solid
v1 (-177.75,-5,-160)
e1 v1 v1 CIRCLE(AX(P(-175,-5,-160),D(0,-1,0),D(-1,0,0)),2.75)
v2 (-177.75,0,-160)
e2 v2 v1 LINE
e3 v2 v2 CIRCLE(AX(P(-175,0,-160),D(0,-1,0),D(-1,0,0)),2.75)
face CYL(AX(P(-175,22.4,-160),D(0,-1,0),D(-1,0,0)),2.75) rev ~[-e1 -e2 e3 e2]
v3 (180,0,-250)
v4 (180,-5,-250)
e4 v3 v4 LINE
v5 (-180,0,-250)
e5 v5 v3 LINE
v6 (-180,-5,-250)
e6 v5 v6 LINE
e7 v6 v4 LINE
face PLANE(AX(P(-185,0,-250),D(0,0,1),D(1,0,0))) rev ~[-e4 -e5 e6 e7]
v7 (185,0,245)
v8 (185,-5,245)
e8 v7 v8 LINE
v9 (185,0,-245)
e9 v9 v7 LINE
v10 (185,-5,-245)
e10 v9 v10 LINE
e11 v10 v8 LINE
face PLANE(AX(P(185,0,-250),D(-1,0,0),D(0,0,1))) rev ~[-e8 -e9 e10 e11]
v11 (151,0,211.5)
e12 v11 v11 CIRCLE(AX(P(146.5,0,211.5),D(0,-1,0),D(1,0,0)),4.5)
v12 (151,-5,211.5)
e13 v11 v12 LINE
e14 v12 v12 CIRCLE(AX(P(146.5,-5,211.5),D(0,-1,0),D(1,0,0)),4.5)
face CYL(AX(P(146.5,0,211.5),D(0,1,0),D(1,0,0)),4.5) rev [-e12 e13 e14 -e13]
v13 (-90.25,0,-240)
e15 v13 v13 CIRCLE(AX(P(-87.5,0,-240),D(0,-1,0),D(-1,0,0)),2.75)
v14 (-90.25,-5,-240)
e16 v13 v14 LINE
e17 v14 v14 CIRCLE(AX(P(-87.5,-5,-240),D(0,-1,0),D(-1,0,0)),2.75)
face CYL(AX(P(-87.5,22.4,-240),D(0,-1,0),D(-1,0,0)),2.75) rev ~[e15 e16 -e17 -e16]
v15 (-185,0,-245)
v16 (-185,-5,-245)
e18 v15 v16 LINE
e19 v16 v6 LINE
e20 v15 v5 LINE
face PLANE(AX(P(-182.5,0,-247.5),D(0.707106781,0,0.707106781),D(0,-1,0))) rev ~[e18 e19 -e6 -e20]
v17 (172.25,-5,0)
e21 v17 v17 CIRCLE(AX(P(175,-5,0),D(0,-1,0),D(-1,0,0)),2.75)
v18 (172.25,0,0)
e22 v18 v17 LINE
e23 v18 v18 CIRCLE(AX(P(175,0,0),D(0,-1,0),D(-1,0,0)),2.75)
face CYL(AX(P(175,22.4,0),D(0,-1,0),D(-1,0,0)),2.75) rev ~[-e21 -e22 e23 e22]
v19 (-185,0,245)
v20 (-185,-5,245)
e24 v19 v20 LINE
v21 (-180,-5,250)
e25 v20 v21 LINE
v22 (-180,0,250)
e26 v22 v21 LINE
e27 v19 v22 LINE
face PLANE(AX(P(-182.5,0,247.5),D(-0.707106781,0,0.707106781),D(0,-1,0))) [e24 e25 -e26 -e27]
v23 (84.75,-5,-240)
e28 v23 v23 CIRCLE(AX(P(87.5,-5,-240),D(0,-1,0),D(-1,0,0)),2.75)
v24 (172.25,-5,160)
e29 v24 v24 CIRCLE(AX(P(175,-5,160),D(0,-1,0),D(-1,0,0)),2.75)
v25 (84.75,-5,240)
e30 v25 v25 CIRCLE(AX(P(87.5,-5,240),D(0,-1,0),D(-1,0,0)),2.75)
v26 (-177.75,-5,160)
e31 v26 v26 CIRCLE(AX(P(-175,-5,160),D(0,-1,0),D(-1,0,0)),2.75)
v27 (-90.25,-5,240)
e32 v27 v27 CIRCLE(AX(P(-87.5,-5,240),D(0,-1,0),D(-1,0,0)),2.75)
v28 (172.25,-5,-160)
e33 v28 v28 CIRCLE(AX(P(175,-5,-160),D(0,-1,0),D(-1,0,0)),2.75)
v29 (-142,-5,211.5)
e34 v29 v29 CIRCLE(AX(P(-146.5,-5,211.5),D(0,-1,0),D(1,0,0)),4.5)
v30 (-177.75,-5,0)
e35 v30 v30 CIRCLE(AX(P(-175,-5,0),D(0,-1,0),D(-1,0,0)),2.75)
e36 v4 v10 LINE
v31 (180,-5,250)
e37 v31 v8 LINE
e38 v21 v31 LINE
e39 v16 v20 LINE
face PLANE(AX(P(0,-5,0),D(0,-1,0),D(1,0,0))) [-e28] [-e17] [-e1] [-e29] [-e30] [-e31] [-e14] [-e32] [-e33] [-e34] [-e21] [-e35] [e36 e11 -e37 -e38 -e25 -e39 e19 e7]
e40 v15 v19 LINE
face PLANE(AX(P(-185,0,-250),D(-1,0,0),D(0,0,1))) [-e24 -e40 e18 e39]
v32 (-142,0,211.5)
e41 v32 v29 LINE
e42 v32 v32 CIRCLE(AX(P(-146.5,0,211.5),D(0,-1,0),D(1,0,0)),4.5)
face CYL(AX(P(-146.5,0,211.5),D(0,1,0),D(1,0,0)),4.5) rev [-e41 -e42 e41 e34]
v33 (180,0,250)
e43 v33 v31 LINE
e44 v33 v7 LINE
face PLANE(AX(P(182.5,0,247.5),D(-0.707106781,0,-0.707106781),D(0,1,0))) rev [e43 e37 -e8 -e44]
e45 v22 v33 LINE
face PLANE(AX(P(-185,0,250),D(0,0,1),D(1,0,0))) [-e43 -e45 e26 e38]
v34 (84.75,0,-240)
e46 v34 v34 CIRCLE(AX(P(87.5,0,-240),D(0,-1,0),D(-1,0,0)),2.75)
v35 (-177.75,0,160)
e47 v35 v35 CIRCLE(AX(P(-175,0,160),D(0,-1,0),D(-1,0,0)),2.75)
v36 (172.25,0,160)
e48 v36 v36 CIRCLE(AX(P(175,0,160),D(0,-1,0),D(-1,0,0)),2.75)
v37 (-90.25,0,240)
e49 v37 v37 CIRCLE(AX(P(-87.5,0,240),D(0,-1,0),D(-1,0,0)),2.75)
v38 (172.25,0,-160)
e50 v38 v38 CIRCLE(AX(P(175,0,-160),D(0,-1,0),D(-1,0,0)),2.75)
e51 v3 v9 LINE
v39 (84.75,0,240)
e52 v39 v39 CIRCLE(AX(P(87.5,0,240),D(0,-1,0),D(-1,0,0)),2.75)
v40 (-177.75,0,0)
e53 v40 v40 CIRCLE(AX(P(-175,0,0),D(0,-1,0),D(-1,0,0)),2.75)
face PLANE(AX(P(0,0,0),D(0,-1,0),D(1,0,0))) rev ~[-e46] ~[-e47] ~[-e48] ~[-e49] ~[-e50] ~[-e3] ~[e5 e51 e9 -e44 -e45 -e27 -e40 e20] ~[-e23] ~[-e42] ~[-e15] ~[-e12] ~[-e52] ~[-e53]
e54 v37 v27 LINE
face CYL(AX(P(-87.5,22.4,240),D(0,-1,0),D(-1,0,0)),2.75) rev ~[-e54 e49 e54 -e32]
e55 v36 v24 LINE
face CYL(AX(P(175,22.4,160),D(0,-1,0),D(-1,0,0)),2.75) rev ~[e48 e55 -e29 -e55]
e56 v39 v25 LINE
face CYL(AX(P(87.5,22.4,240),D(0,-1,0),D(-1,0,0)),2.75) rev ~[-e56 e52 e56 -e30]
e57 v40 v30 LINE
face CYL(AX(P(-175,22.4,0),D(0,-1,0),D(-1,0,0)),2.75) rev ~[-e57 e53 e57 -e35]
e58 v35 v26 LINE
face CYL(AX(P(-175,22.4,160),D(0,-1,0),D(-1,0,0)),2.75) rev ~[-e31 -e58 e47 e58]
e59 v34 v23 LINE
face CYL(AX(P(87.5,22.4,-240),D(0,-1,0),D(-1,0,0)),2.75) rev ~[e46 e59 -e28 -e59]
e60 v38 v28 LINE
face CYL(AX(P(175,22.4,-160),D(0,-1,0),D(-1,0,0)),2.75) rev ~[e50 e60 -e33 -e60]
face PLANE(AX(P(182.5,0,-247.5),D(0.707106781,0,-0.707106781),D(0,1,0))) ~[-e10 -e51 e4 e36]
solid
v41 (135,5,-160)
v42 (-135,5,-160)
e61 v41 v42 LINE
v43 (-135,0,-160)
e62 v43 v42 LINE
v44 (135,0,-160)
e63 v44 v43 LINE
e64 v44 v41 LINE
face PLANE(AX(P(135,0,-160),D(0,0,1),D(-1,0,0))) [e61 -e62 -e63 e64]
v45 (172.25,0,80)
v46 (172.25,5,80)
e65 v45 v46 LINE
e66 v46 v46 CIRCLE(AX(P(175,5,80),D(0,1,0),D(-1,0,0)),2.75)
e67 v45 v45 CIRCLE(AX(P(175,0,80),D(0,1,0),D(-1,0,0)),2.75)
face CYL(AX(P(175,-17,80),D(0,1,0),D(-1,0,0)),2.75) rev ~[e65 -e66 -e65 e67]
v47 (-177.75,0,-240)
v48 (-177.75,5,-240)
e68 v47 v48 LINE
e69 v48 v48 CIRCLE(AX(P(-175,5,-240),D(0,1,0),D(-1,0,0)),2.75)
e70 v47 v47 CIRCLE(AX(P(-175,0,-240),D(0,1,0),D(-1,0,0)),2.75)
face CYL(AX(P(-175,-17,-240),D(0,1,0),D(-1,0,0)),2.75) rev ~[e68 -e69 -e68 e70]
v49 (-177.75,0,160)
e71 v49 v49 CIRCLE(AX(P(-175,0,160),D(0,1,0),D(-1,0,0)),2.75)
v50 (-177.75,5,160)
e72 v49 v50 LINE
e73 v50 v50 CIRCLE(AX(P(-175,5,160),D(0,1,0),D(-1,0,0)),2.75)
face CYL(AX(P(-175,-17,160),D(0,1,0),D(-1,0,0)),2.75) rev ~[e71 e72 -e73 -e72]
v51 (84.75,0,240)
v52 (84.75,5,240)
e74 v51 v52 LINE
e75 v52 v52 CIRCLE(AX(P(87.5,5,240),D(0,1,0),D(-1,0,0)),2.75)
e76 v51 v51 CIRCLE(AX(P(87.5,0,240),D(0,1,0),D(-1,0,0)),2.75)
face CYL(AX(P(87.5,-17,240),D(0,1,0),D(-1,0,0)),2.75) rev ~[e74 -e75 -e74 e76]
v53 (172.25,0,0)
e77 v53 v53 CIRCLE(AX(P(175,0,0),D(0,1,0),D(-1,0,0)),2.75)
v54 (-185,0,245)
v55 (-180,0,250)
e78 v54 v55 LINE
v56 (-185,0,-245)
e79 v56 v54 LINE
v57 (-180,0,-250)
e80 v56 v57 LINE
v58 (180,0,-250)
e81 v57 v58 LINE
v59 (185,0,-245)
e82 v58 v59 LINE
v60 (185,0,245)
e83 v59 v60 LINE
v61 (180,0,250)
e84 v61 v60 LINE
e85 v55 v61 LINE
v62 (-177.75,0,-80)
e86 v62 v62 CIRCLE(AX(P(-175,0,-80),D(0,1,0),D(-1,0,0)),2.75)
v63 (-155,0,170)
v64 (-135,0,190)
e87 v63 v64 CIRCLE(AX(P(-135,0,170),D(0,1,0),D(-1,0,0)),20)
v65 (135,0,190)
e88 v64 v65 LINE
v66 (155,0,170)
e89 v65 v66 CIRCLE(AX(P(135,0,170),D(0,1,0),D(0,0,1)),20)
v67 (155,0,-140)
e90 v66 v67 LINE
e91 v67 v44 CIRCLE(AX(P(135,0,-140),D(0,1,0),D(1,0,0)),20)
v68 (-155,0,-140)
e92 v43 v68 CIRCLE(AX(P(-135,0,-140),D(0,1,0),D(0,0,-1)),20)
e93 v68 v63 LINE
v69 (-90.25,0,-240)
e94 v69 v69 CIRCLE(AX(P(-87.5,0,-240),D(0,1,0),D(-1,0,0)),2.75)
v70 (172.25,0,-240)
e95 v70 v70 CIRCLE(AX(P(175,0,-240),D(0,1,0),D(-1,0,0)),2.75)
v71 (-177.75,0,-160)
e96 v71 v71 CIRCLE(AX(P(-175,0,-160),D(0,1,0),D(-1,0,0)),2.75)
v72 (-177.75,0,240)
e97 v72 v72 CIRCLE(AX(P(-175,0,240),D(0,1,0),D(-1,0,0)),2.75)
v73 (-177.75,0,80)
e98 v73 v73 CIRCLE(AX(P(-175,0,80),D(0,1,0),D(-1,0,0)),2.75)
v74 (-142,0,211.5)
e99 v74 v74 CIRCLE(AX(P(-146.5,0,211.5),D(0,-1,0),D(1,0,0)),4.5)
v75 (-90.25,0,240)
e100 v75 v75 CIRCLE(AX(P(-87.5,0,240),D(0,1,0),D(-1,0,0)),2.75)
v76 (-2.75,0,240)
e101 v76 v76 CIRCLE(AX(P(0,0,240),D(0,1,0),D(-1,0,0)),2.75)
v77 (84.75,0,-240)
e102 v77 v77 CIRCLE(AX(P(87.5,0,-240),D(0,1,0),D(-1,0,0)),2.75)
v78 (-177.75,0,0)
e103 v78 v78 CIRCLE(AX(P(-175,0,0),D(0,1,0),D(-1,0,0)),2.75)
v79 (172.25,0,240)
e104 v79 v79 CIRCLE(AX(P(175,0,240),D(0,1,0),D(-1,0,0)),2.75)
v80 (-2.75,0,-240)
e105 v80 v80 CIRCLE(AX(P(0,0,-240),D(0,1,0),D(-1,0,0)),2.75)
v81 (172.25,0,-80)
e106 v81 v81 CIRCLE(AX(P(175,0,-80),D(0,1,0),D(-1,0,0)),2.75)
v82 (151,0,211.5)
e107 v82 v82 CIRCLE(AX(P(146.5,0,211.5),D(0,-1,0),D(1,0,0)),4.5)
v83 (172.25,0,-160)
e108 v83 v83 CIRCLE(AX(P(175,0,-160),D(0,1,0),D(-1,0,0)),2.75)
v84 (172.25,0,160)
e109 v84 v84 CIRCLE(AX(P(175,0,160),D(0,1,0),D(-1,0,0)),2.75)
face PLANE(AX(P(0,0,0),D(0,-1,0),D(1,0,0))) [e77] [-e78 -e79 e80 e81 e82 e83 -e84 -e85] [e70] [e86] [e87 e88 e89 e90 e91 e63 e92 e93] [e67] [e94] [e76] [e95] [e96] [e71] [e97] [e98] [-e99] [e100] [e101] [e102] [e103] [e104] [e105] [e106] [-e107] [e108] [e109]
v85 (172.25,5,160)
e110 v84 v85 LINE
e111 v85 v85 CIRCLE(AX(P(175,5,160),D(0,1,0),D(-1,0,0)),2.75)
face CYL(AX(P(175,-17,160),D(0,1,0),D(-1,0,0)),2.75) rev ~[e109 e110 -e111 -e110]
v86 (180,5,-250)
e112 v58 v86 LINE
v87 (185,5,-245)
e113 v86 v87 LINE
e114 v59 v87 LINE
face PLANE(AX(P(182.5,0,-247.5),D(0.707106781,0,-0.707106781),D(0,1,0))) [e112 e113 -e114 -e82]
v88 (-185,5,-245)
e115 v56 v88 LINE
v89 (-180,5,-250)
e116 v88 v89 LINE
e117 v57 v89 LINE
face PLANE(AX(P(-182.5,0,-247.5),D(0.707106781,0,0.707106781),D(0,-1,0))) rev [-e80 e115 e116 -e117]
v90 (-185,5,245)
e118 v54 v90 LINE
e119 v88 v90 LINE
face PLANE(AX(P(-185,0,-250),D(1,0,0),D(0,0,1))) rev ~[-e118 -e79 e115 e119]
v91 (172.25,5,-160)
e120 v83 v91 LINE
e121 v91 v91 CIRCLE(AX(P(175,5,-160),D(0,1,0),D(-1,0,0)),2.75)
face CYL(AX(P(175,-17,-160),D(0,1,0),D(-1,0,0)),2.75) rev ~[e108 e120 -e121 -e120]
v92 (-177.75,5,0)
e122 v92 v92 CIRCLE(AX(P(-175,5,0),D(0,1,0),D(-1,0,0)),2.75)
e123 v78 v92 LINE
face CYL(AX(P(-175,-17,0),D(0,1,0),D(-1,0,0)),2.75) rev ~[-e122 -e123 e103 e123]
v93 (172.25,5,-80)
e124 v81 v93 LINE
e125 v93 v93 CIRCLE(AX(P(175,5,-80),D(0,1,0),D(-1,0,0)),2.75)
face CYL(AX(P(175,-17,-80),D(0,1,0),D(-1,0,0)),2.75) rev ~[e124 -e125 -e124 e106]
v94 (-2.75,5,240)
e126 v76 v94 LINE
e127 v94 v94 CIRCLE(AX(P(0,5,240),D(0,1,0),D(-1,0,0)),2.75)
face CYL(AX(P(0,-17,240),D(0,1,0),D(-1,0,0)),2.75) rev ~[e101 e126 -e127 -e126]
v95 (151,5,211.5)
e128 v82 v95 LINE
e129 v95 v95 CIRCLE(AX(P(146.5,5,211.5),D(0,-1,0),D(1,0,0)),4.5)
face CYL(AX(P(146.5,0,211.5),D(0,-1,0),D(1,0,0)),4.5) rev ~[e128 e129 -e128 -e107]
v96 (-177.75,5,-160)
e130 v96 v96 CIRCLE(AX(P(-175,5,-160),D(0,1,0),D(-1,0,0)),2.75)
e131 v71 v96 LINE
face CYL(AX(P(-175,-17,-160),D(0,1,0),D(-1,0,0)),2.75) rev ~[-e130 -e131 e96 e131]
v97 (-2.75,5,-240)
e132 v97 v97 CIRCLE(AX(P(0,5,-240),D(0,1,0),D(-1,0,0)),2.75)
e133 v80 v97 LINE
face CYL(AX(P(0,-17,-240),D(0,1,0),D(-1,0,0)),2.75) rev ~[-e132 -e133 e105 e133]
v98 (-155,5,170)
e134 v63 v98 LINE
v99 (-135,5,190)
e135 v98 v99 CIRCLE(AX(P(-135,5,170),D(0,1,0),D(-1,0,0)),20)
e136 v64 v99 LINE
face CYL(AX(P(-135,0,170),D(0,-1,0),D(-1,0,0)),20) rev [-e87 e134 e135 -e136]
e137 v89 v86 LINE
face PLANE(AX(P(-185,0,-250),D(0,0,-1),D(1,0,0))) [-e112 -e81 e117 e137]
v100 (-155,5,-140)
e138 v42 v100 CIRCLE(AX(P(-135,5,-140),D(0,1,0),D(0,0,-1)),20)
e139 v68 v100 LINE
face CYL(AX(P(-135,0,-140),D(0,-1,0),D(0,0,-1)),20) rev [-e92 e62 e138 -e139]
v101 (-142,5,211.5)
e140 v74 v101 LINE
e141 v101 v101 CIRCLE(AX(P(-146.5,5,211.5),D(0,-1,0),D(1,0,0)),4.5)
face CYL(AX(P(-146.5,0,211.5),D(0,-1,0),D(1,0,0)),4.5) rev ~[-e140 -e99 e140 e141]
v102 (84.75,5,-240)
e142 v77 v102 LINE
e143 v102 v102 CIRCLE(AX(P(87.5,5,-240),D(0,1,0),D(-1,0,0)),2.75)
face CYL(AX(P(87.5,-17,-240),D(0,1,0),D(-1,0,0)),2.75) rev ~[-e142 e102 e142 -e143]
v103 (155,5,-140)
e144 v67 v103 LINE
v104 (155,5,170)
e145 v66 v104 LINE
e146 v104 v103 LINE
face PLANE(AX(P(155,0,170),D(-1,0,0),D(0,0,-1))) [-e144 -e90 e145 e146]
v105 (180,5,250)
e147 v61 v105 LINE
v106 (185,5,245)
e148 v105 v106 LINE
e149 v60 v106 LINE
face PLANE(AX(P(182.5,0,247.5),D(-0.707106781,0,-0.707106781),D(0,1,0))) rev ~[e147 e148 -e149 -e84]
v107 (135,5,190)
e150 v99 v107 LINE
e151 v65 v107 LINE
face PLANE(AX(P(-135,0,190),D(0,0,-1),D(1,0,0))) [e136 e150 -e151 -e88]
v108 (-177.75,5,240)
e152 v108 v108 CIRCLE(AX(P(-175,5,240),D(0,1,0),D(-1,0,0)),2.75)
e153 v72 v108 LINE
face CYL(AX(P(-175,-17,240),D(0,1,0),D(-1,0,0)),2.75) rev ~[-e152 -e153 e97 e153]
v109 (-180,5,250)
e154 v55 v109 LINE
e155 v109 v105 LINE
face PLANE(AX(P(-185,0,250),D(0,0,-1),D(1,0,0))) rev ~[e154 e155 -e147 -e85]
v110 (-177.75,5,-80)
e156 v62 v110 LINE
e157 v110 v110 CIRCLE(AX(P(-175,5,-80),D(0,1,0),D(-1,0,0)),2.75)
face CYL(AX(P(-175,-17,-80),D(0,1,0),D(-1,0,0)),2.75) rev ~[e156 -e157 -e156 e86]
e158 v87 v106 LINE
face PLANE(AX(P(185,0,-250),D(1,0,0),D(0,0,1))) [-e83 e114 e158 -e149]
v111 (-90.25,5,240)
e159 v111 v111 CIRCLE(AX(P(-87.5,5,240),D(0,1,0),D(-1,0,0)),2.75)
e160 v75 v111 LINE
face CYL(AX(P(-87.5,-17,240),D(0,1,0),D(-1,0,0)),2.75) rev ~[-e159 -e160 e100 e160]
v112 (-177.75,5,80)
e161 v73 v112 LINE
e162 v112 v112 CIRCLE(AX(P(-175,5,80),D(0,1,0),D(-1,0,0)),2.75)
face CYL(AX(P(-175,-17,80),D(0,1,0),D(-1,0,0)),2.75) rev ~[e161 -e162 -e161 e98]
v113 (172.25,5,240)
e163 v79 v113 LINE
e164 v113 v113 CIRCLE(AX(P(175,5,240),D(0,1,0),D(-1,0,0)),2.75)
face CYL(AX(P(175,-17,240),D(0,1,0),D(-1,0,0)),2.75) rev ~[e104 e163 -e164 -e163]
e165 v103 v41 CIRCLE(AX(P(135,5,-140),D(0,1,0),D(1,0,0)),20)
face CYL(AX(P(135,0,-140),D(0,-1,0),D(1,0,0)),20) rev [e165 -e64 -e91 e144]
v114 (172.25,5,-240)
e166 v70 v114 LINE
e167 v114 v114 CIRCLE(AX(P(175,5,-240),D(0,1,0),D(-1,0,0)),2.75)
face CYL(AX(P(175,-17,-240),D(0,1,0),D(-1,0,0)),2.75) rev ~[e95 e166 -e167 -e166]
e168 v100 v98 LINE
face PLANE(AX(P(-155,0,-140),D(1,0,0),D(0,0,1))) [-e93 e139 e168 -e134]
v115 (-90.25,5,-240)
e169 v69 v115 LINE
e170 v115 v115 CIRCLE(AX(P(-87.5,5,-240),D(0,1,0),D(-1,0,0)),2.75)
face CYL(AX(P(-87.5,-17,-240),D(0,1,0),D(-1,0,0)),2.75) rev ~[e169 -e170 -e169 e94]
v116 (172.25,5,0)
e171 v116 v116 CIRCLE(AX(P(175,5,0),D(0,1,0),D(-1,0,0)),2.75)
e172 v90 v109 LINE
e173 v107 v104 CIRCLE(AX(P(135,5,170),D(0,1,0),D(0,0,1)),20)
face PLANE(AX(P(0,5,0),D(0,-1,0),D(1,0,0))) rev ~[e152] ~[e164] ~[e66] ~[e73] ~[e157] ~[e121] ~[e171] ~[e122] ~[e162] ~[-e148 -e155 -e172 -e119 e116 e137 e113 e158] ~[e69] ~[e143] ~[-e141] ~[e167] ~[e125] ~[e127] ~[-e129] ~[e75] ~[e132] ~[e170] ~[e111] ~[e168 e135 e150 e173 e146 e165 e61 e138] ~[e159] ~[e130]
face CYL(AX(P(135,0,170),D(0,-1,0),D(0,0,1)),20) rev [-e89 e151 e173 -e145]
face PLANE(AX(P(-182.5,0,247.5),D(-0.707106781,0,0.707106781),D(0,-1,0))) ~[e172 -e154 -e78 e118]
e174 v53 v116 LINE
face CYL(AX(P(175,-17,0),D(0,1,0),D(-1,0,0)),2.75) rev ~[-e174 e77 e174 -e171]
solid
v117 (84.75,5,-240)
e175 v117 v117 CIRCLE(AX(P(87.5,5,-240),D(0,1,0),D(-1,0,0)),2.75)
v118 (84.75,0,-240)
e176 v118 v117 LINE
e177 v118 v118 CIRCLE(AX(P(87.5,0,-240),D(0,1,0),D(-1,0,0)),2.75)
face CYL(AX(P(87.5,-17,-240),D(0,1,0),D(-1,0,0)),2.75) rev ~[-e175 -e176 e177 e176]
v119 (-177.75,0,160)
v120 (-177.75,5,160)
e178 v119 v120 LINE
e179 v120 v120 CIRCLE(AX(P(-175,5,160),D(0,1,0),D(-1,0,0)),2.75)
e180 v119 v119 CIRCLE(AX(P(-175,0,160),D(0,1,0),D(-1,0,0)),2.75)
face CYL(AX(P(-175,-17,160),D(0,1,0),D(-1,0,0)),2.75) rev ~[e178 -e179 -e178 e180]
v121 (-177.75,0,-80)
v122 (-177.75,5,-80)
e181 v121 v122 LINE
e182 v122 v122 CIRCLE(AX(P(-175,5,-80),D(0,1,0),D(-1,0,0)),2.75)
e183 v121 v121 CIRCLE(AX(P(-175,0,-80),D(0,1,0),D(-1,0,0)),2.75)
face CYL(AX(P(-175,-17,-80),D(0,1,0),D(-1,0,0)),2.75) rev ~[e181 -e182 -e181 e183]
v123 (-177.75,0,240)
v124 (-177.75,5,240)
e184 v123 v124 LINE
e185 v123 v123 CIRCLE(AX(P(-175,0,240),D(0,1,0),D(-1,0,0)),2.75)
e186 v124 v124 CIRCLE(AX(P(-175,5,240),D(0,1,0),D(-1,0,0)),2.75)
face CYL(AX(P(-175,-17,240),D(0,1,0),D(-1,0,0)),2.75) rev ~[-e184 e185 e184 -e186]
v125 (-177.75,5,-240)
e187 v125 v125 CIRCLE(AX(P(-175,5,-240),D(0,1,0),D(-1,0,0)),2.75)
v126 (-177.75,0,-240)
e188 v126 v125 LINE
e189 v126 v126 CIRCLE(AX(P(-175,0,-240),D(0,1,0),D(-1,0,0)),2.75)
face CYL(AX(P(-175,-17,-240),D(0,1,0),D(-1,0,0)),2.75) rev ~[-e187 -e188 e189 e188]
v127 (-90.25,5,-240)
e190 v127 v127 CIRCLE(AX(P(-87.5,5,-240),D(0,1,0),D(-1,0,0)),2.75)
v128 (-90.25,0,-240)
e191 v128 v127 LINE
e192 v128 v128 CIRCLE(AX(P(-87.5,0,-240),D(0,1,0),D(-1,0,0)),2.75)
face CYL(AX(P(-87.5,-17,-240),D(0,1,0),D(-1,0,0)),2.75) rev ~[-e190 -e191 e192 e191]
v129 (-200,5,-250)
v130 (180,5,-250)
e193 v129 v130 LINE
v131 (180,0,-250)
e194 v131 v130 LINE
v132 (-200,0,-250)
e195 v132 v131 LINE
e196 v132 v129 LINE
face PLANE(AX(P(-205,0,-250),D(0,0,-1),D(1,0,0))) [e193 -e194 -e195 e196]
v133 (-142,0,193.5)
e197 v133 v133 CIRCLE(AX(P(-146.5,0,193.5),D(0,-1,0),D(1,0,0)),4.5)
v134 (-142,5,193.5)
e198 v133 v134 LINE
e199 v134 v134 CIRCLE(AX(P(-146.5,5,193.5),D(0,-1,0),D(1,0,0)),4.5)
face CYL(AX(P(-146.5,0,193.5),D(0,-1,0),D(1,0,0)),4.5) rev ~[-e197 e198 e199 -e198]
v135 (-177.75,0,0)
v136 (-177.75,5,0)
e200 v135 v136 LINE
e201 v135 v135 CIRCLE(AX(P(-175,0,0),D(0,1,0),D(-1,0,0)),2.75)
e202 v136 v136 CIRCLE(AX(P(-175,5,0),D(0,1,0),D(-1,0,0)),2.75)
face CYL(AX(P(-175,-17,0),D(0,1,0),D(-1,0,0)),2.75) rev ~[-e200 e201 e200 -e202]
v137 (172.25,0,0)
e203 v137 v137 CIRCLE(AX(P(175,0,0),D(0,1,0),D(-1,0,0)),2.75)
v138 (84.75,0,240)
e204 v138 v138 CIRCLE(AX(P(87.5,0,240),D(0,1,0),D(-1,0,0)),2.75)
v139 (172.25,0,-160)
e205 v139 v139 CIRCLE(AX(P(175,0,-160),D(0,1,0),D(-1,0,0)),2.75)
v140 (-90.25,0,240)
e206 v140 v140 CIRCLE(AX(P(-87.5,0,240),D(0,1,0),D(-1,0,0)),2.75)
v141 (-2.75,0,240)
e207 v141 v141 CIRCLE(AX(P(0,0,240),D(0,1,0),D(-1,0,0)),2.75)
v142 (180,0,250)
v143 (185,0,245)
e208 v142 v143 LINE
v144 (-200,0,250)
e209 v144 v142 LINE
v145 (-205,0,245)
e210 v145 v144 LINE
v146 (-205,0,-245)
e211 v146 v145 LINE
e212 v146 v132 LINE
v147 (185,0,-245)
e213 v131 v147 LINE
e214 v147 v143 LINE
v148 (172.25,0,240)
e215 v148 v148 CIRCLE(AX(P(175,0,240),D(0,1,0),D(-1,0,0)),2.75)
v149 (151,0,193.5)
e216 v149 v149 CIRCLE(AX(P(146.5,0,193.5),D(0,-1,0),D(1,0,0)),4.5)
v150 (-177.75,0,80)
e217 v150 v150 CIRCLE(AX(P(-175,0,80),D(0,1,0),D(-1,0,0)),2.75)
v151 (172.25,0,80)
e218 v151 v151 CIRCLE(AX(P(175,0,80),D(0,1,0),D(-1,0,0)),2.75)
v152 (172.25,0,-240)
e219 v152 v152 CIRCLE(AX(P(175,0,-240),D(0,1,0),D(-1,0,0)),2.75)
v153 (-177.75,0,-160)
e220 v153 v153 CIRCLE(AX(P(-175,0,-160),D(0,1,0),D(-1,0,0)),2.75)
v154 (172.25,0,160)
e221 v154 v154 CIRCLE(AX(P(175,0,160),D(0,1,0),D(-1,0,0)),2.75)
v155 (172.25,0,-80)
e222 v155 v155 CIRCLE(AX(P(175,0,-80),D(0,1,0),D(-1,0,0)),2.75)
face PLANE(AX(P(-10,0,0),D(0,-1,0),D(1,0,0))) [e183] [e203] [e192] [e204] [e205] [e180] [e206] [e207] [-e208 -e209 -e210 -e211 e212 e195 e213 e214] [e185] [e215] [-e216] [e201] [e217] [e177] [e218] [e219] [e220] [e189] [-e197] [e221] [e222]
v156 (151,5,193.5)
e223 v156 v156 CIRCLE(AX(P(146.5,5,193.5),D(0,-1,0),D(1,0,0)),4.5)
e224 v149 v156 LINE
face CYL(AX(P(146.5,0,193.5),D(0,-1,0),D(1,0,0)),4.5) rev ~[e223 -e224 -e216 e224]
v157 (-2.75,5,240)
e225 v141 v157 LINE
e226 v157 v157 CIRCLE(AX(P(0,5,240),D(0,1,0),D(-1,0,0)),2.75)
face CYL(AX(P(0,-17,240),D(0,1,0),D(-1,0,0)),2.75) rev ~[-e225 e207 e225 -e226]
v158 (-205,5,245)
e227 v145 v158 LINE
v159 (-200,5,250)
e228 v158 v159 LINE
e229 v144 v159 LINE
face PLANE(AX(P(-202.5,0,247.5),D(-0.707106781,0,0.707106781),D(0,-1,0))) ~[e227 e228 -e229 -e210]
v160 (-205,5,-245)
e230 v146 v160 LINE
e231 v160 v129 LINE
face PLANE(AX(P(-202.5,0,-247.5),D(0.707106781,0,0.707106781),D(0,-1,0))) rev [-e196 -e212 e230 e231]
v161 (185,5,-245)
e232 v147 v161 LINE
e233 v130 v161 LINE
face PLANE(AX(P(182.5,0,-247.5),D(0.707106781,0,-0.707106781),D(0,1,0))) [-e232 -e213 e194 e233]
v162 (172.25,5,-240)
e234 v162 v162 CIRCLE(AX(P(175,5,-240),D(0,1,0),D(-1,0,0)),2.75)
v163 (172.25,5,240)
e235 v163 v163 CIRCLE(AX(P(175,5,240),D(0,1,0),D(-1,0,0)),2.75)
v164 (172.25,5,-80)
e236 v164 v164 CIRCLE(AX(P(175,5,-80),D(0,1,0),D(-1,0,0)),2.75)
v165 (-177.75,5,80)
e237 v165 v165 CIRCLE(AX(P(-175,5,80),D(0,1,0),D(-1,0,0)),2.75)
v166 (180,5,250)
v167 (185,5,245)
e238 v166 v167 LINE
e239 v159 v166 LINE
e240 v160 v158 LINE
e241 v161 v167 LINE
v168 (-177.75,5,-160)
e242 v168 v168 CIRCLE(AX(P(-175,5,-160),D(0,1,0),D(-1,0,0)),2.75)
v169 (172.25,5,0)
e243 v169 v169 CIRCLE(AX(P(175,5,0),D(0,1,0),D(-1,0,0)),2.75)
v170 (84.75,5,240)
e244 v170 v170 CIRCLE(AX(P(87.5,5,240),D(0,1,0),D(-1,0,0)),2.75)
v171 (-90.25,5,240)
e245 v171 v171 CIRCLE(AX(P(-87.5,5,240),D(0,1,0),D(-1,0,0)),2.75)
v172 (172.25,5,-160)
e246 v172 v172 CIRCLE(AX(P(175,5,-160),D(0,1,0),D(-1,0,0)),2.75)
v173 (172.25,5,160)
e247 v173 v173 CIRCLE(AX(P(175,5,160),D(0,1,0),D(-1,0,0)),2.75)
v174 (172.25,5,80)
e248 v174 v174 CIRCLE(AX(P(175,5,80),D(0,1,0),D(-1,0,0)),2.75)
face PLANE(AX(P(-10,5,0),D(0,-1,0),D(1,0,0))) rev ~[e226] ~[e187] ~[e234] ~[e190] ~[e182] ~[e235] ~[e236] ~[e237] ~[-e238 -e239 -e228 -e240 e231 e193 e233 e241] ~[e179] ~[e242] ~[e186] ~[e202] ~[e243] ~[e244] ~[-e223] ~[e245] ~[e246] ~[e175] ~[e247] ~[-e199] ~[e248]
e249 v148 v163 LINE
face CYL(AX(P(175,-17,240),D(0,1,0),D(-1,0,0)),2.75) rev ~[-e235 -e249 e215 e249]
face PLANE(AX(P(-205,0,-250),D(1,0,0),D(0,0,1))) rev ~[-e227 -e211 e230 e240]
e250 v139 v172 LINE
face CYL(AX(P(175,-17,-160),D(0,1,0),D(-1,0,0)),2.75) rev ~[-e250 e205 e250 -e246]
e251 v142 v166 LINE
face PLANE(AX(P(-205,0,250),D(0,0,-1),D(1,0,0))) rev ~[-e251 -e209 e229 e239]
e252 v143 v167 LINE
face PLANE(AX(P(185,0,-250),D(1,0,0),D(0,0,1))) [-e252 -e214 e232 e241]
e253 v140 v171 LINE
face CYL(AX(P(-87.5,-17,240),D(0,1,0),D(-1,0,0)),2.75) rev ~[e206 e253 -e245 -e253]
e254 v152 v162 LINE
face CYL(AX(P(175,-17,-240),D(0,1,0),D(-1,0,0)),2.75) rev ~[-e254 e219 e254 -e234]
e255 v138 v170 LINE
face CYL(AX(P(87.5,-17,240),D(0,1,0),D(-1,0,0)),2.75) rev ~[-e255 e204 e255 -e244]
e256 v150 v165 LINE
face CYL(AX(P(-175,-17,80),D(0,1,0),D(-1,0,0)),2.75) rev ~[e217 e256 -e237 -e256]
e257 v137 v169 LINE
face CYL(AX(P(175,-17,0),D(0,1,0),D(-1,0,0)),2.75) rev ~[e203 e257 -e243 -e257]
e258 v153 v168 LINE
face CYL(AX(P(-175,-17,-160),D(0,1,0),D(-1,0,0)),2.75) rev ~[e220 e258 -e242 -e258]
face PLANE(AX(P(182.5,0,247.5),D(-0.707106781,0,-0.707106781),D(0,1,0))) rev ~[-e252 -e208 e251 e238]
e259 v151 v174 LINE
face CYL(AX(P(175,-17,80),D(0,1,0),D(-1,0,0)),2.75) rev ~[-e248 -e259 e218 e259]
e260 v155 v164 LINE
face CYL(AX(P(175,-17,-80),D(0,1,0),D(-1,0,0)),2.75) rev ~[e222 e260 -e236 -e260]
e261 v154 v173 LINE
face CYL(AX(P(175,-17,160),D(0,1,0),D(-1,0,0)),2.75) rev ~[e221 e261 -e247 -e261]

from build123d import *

# Parameters (mm, degrees)
F1_W     = 390
F1_H     = 500
F1_R     = 4.5
F2_DEPTH = 5
F3_D     = 5.5
F3_DEPTH = 17
F3_TIP   = 1.6523667023
F4_W     = 370
F4_H     = 500
F4_R     = 4.5
F5_DEPTH = 5
F6_D     = 5.5
F6_DEPTH = 17
F6_TIP   = 1.6523667023
F7_DEPTH = 5
F8_D     = 5.5
F8_DEPTH = 22.4
F8_TIP   = 1.6523667023
F9_SIZE  = 5
F10_SIZE = 5
F11_SIZE = 5


with BuildPart() as f2:
    # F1 (on Front) → F2 (new body)
    with BuildSketch(Plane.XZ):
        with Locations((-10, 0)):
            Rectangle(F1_W, F1_H)
        with Locations((-146.5, 193.5)):
            Circle(F1_R, mode=Mode.SUBTRACT)
        with Locations((146.5, 193.5)):
            Circle(F1_R, mode=Mode.SUBTRACT)
    extrude(amount=-F2_DEPTH)

    # F3
    with Locations(Plane.XZ):
        with Locations((-175, 240), (-175, 160), (-175, 80), (-175, -80), (-175, -160), (-175, -240), (-87.5, -240), (87.5, -240), (175, -240), (175, -160), (175, -80), (175, 80), (175, 160), (175, 240), (87.5, 240), (0, 240), (-87.5, 240), (-175, 0), (175, 0)):
            Hole(F3_D / 2, depth=F3_DEPTH)
            with Locations((0, 0, -(F3_DEPTH + F3_TIP / 2))):  # 118° drill point
                Cone(0, F3_D / 2, F3_TIP, mode=Mode.SUBTRACT)

    # F11
    f11_edges = [f2.edges().sort_by_distance(p)[0] for p in [
        (-205, 2.5, 250),
        (185, 2.5, 250),
        (185, 2.5, -250),
        (-205, 2.5, -250),
    ]]
    chamfer(f11_edges, length=F11_SIZE)


with BuildPart() as f5:
    # F4 (on Front) → F5 (new body)
    with BuildSketch(Plane.XZ):
        Rectangle(F4_W, F4_H)
        with Locations((-146.5, 211.5)):
            Circle(F4_R, mode=Mode.SUBTRACT)
        with BuildLine():
            ThreePointArc((-155, 170), (-149.1421356237, 184.1421356237), (-135, 190))
            Line((-135, 190), (135, 190))
            ThreePointArc((135, 190), (149.1421356237, 184.1421356237), (155, 170))
            Line((155, 170), (155, -140))
            ThreePointArc((155, -140), (149.1421356237, -154.1421356237), (135, -160))
            Line((135, -160), (-135, -160))
            ThreePointArc((-135, -160), (-149.1421356237, -154.1421356237), (-155, -140))
            Line((-155, -140), (-155, 170))
        make_face(mode=Mode.SUBTRACT)
        with Locations((146.5, 211.5)):
            Circle(F4_R, mode=Mode.SUBTRACT)
    extrude(amount=-F5_DEPTH)

    # F6
    with Locations(Plane.XZ):
        with Locations((175, 80), (-87.5, -240), (175, 240), (-175, -160), (175, -160), (87.5, -240), (0, 240), (175, -240), (-175, -240), (175, -80), (-175, 80), (87.5, 240), (175, 160), (-175, -80), (-87.5, 240), (-175, 240), (175, 0), (-175, 160), (-175, 0), (0, -240)):
            Hole(F6_D / 2, depth=F6_DEPTH)
            with Locations((0, 0, -(F6_DEPTH + F6_TIP / 2))):  # 118° drill point
                Cone(0, F6_D / 2, F6_TIP, mode=Mode.SUBTRACT)

    # F10
    f10_edges = [f5.edges().sort_by_distance(p)[0] for p in [
        (-185, 2.5, -250),
        (185, 2.5, -250),
        (185, 2.5, 250),
        (-185, 2.5, 250),
    ]]
    chamfer(f10_edges, length=F10_SIZE)


with BuildPart() as f7:
    # F4 (on Front) → F7 (new body)
    with BuildSketch(Plane.XZ):
        Rectangle(F4_W, F4_H)
        with Locations((-146.5, 211.5)):
            Circle(F4_R, mode=Mode.SUBTRACT)
        with BuildLine():
            ThreePointArc((-155, 170), (-149.1421356237, 184.1421356237), (-135, 190))
            Line((-135, 190), (135, 190))
            ThreePointArc((135, 190), (149.1421356237, 184.1421356237), (155, 170))
            Line((155, 170), (155, -140))
            ThreePointArc((155, -140), (149.1421356237, -154.1421356237), (135, -160))
            Line((135, -160), (-135, -160))
            ThreePointArc((-135, -160), (-149.1421356237, -154.1421356237), (-155, -140))
            Line((-155, -140), (-155, 170))
        make_face(mode=Mode.SUBTRACT)
        with Locations((146.5, 211.5)):
            Circle(F4_R, mode=Mode.SUBTRACT)
        with BuildLine():
            Line((135, 190), (-135, 190))
            ThreePointArc((-135, 190), (-149.1421356237, 184.1421356237), (-155, 170))
            Line((-155, 170), (-155, -140))
            ThreePointArc((-155, -140), (-149.1421356237, -154.1421356237), (-135, -160))
            Line((-135, -160), (135, -160))
            ThreePointArc((135, -160), (149.1421356237, -154.1421356237), (155, -140))
            Line((155, -140), (155, 170))
            ThreePointArc((155, 170), (149.1421356237, 184.1421356237), (135, 190))
        make_face()
    extrude(amount=F7_DEPTH)

    # F8
    with Locations(Plane(origin=(0, 0, 0), x_dir=(1, 0, 0), z_dir=(0, 1, 0))):
        with Locations((-175, -160), (-87.5, -240), (87.5, -240), (175, -160), (-175, 160), (-87.5, 240), (87.5, 240), (175, 160), (-175, 0), (175, 0)):
            Hole(F8_D / 2, depth=F8_DEPTH)
            with Locations((0, 0, -(F8_DEPTH + F8_TIP / 2))):  # 118° drill point
                Cone(0, F8_D / 2, F8_TIP, mode=Mode.SUBTRACT)

    # F9
    f9_edges = [f7.edges().sort_by_distance(p)[0] for p in [
        (-185, -2.5, 250),
        (185, -2.5, 250),
        (185, -2.5, -250),
        (-185, -2.5, -250),
    ]]
    chamfer(f9_edges, length=F9_SIZE)


solid = Compound([f2.part, f5.part, f7.part])
